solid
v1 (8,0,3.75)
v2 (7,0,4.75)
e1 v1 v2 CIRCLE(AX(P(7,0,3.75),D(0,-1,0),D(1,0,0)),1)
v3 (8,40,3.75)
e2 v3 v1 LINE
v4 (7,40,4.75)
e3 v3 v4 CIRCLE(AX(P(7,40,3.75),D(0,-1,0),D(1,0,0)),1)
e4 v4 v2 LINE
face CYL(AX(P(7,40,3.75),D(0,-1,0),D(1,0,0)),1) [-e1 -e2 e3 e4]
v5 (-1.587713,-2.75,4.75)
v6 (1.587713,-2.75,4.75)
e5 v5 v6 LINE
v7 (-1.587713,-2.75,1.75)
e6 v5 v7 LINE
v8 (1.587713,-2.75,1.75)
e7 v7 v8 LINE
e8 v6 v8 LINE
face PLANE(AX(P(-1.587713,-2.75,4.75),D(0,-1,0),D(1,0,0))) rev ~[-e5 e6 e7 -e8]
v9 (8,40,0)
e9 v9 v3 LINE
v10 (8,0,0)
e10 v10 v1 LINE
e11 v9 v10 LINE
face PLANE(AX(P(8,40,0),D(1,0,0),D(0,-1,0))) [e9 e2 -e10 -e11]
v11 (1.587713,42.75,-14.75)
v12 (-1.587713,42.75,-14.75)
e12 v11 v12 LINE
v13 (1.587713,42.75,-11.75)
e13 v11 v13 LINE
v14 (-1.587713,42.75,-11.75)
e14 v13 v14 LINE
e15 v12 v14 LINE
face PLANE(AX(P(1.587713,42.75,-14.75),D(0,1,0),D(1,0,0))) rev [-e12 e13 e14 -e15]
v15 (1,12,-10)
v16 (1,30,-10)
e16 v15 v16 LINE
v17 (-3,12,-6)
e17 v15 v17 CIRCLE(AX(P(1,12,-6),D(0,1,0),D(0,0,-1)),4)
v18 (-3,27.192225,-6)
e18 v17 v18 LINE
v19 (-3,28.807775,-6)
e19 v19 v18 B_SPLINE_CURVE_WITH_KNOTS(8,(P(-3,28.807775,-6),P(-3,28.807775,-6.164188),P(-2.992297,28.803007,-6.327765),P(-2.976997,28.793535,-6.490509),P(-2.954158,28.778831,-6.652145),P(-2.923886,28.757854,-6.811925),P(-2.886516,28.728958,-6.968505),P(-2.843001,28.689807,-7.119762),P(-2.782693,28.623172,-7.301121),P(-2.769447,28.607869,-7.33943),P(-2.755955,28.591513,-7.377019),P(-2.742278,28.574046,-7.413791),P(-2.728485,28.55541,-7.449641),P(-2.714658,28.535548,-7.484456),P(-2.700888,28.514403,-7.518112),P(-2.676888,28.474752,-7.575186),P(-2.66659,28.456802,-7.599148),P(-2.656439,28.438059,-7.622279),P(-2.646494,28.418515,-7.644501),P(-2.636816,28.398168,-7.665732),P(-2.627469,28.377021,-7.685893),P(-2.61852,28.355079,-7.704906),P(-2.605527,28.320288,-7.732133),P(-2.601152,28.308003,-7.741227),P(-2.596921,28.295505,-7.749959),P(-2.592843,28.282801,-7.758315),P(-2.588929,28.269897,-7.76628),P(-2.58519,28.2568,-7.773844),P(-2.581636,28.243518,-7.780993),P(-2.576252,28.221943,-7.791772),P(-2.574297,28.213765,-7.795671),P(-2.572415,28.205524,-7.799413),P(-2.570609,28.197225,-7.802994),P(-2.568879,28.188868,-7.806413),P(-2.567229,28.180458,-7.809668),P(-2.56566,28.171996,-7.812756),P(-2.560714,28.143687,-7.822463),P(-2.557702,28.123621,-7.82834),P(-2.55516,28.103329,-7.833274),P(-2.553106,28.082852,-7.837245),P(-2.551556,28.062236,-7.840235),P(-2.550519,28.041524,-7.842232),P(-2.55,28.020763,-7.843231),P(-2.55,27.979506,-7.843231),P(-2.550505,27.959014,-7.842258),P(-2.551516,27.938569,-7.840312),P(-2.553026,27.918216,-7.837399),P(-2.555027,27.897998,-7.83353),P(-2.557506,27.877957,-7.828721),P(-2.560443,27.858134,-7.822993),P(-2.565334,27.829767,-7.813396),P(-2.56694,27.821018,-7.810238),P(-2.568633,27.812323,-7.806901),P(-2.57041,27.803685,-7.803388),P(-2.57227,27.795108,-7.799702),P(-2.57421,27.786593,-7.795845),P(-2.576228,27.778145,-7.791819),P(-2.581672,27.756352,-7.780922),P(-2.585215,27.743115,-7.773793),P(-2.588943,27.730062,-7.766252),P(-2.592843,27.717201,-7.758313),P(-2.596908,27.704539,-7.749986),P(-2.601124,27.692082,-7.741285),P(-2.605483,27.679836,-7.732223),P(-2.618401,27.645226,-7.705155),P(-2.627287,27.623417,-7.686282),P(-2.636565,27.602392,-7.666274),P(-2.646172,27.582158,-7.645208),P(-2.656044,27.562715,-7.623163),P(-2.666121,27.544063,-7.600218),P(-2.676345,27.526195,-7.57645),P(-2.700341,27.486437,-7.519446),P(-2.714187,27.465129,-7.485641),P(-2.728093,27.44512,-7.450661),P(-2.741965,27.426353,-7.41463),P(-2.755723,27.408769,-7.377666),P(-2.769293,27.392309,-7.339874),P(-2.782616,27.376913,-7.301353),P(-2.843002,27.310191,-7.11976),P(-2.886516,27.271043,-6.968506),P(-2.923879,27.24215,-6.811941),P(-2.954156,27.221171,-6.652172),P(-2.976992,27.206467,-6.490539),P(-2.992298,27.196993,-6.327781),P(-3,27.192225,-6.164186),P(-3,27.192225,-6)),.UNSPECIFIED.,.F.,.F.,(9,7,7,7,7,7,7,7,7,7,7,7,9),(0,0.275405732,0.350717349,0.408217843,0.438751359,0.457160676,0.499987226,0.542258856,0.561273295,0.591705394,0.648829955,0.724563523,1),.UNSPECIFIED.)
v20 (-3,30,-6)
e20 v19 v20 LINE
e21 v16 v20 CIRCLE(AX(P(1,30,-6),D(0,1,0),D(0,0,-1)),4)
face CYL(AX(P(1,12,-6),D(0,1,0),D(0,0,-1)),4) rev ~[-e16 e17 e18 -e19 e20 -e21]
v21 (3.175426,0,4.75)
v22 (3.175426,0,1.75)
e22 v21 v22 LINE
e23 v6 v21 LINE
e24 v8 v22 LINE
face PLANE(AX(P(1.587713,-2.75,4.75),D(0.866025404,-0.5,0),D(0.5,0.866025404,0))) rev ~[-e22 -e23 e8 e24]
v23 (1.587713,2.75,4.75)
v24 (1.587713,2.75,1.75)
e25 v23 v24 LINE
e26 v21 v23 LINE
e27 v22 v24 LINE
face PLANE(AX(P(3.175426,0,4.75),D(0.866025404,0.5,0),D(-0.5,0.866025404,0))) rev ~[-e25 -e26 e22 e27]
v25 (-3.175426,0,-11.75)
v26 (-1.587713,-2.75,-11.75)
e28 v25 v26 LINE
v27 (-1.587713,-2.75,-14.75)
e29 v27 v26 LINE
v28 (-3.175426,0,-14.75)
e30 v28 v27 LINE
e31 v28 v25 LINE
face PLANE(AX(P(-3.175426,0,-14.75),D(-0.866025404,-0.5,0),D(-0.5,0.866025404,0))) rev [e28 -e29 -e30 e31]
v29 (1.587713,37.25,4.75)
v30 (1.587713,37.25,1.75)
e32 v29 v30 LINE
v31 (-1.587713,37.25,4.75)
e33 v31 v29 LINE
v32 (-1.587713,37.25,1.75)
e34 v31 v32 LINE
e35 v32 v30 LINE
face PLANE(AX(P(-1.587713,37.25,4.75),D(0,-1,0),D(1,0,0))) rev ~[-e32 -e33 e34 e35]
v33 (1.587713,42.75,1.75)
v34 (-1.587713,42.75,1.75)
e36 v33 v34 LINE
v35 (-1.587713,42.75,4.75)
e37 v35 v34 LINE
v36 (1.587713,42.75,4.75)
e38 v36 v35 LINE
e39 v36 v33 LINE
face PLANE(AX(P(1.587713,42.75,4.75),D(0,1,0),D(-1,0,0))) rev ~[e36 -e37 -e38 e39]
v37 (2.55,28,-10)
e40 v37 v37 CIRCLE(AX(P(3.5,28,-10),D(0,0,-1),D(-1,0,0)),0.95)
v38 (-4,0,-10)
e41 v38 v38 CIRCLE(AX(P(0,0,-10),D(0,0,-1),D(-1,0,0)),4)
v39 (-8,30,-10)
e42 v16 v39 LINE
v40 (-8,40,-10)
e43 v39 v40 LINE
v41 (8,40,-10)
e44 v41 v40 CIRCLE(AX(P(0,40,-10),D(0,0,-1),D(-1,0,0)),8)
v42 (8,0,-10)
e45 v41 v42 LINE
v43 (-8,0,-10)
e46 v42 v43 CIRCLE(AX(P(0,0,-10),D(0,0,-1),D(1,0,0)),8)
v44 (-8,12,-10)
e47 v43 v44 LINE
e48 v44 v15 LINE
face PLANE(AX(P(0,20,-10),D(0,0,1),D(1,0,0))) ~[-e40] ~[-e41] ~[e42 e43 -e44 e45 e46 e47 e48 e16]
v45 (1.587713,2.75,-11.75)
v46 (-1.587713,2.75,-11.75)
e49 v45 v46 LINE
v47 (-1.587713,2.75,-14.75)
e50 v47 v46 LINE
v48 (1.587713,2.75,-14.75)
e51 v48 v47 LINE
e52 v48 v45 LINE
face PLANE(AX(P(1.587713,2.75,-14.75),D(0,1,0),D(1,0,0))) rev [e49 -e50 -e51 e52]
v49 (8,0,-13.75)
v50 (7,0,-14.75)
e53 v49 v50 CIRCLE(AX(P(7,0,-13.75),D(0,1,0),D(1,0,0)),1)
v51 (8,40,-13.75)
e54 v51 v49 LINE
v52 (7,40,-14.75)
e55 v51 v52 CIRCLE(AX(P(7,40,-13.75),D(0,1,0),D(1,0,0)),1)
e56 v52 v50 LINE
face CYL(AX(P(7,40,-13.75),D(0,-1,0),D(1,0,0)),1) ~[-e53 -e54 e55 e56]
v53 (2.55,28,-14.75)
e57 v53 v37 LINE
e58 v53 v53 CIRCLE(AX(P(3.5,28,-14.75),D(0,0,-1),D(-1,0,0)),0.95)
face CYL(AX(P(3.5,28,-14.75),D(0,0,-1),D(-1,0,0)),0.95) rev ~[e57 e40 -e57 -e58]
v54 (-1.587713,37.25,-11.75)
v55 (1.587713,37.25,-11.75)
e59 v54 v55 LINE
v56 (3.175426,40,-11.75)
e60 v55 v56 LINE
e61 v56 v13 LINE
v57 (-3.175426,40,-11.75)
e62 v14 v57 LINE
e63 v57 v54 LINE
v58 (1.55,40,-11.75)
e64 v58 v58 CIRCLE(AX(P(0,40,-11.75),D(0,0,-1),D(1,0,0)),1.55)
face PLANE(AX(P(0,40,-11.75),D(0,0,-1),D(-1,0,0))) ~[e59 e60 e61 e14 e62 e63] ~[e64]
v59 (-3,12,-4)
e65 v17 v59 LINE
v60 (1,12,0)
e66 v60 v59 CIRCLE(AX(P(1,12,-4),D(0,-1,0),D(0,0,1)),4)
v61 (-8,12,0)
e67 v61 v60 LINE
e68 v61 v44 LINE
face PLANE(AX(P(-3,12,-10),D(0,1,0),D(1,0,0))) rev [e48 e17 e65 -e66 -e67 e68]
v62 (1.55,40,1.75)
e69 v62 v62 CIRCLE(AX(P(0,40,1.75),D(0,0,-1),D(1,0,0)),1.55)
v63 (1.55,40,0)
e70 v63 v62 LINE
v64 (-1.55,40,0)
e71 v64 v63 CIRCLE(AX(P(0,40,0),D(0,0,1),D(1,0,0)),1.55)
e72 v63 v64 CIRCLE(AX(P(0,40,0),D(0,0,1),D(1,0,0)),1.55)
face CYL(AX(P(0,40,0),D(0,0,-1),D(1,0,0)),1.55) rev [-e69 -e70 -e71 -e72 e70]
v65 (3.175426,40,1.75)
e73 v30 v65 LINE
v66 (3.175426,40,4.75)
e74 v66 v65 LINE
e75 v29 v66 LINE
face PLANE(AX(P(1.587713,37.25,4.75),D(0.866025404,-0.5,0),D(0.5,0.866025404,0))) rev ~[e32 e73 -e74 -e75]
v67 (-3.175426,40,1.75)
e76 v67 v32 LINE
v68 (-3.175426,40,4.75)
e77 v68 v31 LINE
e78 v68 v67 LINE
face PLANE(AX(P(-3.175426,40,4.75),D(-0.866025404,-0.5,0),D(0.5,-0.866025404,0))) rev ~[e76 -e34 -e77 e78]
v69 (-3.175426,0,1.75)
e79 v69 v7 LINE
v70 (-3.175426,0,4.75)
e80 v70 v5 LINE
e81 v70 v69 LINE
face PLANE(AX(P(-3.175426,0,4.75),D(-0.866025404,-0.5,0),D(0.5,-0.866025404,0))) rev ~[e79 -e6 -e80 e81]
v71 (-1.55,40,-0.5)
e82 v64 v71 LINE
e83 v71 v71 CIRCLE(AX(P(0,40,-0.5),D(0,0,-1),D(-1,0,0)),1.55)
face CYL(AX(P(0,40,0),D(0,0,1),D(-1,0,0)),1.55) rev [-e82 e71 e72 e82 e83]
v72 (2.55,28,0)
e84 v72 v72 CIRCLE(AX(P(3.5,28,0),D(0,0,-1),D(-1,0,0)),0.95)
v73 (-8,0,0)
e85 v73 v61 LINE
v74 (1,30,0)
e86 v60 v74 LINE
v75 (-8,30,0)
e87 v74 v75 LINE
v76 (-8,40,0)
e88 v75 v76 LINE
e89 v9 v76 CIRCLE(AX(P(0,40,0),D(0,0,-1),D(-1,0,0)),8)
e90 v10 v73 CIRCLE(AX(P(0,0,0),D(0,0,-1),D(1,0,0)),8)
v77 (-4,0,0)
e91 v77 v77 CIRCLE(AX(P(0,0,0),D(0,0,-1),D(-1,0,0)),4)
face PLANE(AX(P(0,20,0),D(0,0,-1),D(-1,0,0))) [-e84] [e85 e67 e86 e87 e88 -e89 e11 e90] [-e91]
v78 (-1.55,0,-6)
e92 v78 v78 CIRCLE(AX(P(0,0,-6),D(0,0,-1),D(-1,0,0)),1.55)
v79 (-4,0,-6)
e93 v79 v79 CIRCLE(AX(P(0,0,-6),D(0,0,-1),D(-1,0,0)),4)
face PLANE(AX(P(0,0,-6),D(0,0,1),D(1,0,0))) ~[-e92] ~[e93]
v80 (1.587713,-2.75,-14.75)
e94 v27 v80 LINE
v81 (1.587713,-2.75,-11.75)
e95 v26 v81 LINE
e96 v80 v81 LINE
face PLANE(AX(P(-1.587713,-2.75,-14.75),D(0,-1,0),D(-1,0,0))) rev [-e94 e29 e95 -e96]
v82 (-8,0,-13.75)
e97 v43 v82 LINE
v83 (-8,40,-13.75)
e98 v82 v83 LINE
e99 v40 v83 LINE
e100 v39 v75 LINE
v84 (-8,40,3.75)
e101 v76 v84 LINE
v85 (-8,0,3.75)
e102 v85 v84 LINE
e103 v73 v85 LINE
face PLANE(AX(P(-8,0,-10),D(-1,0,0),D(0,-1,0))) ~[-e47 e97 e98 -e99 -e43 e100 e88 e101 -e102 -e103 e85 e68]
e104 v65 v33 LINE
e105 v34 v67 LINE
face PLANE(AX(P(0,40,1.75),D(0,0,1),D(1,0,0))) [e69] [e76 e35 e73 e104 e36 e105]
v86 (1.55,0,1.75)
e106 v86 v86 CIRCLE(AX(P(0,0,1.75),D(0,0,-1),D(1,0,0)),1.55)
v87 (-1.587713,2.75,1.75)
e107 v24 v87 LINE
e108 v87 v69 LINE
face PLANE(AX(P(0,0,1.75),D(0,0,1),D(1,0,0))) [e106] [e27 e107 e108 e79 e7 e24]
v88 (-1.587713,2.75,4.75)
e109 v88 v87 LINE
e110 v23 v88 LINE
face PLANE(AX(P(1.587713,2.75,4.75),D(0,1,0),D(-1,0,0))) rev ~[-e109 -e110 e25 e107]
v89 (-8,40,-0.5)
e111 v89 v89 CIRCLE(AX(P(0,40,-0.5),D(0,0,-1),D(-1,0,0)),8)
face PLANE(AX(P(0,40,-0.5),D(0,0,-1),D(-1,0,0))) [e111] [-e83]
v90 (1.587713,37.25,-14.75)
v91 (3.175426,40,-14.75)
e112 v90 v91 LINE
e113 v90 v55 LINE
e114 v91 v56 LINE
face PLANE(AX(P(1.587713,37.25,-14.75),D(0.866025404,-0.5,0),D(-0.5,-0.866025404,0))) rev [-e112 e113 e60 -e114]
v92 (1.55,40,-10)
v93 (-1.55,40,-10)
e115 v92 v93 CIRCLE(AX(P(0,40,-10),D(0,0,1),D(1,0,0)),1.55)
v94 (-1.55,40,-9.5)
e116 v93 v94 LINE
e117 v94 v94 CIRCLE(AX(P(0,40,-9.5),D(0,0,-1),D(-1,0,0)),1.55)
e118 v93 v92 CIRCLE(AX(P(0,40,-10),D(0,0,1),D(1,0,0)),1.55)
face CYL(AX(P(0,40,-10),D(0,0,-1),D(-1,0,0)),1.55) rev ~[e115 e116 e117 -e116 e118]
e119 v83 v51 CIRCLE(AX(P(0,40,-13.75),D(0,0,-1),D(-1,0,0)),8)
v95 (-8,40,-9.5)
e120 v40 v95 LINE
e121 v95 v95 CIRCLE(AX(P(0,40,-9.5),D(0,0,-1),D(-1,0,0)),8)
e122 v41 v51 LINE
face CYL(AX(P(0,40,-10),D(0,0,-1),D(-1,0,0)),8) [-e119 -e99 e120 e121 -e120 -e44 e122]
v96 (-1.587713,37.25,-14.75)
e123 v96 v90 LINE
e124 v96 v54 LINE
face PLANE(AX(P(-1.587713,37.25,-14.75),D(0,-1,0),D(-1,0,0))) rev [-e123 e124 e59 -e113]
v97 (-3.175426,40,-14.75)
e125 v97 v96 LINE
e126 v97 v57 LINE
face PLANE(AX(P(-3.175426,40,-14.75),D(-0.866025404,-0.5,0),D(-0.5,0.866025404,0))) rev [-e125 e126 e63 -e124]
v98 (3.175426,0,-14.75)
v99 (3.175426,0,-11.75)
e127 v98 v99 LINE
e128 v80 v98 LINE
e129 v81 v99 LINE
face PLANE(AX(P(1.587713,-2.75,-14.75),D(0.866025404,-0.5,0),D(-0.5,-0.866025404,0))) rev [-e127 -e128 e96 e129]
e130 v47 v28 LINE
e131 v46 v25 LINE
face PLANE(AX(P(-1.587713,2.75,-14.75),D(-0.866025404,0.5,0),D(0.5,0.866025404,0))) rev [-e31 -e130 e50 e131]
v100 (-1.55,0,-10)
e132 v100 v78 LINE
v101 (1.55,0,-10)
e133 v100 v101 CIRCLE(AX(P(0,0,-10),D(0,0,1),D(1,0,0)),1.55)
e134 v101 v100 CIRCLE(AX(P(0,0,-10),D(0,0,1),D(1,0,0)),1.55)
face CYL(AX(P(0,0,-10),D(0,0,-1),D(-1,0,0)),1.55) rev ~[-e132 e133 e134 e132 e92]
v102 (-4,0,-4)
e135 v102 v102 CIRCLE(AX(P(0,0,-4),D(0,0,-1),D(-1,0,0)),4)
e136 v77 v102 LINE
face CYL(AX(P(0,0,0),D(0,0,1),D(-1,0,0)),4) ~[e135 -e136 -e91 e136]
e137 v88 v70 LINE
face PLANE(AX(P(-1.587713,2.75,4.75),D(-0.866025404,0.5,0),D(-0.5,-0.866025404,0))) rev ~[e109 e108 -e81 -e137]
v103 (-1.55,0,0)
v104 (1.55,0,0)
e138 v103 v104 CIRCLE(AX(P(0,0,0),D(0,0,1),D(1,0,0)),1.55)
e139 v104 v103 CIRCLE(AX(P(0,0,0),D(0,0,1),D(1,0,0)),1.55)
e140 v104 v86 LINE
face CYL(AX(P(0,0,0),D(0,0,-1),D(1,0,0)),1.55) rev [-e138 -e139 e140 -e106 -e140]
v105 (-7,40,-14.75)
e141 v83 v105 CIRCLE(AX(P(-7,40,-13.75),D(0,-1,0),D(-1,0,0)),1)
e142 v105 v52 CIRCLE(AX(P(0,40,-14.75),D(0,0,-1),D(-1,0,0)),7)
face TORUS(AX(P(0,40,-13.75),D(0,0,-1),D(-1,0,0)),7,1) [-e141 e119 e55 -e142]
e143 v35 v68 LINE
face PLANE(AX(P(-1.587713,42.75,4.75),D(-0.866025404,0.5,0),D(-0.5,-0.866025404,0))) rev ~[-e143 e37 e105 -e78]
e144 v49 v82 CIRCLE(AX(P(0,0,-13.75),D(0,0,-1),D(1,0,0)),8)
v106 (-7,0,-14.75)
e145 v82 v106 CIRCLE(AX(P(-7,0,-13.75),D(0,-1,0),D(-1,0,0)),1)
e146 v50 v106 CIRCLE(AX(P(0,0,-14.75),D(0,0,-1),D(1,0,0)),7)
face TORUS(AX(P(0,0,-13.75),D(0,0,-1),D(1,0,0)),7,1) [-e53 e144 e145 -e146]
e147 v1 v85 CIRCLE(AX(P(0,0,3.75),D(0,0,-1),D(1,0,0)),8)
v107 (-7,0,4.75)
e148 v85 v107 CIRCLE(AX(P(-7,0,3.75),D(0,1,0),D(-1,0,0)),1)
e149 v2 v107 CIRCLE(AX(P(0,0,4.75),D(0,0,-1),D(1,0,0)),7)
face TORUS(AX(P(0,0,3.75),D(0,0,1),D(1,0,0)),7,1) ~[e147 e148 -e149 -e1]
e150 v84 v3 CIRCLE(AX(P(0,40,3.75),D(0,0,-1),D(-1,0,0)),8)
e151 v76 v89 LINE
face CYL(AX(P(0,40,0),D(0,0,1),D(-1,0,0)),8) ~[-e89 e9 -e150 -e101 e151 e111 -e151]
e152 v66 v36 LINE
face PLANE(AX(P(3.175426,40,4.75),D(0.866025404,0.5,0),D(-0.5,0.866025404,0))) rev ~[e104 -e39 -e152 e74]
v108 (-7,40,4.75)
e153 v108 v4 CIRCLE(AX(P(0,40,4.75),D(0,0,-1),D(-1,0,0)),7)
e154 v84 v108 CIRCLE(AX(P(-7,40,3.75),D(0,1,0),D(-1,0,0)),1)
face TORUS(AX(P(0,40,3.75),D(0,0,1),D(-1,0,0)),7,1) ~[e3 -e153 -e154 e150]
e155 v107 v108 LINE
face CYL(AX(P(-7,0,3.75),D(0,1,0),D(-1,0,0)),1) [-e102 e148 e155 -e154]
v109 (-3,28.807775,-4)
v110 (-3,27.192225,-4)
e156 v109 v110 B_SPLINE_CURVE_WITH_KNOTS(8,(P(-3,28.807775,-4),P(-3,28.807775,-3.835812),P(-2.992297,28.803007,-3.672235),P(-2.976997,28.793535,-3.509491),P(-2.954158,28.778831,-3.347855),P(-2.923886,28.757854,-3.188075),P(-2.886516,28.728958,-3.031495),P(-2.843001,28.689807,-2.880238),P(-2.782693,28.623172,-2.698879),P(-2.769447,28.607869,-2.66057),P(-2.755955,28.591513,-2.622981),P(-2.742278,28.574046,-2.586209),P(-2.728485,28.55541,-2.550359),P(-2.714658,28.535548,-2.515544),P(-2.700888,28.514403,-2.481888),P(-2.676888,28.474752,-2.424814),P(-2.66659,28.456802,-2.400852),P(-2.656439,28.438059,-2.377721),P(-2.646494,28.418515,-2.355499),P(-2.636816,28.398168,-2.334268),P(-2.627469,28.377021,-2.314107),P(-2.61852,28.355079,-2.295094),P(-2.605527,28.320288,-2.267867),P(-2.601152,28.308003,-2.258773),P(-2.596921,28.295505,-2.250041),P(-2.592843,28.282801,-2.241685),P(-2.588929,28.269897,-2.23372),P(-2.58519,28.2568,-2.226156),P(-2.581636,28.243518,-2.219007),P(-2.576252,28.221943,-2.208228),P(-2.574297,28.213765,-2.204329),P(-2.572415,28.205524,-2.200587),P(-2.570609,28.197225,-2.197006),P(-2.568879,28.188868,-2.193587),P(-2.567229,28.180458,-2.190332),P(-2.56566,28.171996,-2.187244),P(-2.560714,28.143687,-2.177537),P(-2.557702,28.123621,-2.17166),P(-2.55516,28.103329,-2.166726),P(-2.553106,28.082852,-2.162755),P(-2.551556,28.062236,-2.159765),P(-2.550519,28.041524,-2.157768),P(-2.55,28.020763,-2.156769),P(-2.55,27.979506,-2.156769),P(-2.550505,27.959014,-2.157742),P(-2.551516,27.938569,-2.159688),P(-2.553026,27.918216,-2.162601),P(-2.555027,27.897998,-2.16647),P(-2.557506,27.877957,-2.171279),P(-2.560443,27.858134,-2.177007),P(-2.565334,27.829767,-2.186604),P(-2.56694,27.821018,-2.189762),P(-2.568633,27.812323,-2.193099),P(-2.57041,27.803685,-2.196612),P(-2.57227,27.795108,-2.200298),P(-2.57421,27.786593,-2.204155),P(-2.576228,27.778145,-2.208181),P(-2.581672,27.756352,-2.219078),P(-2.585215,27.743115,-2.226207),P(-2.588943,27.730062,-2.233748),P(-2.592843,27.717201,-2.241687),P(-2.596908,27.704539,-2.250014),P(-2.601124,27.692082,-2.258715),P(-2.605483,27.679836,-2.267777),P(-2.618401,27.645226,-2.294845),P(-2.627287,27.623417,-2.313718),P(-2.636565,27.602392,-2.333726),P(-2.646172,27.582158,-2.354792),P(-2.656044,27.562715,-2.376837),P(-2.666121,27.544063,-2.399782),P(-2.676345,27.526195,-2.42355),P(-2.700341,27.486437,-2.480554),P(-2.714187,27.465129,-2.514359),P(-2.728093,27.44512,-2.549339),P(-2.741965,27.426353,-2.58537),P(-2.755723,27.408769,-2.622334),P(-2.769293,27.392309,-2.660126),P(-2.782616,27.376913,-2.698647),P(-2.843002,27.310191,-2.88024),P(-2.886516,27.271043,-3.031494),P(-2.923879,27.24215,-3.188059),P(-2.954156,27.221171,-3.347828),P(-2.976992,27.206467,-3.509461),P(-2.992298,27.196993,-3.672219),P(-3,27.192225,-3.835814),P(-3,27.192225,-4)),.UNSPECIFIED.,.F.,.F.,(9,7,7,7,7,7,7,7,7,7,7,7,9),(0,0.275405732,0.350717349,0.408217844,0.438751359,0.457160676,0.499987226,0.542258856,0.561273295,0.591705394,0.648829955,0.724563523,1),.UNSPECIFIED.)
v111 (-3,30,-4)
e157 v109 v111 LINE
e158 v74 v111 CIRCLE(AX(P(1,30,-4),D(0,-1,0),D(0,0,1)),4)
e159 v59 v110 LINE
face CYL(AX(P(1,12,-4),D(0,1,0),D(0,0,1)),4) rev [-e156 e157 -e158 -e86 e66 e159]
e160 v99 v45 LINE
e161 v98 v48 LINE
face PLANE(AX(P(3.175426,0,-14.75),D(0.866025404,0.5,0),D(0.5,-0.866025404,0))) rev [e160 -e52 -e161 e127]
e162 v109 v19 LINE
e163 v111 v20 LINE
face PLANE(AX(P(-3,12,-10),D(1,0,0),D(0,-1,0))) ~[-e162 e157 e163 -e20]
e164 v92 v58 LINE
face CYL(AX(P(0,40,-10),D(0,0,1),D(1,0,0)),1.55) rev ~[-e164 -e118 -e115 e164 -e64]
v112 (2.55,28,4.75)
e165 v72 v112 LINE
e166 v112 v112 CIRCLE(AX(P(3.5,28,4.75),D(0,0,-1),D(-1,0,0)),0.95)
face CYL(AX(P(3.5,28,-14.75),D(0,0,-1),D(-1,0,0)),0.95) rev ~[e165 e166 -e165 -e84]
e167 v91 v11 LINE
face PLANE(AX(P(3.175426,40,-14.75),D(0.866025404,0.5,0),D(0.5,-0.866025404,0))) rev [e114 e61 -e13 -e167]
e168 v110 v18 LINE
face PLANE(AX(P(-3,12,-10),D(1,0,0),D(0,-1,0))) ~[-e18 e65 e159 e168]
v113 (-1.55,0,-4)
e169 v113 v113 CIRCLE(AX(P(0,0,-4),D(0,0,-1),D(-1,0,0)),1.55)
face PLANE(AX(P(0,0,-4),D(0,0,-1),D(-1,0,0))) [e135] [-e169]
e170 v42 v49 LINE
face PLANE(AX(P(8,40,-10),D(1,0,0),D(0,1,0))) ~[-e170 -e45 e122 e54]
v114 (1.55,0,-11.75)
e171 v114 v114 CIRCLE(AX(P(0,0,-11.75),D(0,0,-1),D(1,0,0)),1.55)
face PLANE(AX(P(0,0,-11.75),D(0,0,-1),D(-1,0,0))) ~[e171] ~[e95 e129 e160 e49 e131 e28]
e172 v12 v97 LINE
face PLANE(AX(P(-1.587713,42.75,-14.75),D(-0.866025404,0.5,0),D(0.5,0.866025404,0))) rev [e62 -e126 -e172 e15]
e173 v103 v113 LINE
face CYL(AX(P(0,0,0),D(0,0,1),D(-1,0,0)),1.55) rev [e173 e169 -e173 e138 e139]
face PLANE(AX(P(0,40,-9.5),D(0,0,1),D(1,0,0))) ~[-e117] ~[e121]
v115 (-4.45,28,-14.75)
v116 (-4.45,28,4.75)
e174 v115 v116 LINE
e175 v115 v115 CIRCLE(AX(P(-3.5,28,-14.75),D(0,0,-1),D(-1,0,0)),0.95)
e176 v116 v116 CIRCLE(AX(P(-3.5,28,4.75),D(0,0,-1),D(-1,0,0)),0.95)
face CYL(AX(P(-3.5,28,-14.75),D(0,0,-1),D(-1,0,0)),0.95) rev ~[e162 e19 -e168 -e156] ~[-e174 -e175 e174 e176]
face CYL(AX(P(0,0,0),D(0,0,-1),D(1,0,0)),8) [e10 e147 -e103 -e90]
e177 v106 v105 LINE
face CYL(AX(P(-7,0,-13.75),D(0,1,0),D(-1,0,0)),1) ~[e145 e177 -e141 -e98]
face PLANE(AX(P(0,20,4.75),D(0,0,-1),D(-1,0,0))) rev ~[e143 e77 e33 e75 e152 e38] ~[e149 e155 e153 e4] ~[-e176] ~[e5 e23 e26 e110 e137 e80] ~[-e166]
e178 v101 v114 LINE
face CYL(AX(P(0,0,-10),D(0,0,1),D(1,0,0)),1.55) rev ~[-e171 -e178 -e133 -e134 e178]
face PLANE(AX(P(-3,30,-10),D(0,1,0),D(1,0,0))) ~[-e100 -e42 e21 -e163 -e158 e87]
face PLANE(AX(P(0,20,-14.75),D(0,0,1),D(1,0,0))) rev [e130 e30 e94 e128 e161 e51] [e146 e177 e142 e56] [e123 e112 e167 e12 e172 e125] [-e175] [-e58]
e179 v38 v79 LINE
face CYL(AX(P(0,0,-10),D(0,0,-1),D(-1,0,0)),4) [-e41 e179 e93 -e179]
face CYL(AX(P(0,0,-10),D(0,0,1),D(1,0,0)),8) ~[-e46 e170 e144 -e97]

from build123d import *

# Parameters (mm, degrees)
SKETCH1_R           = 1.55
BOSS_EXTRUDE1_DEPTH = 4.75
FILLET2_R           = 1
CUT_EXTRUDE1_DEPTH  = 3
SKETCH3_W           = 5
SKETCH3_H           = 18
BOSS_EXTRUDE2_DEPTH = 5
SKETCH8_R           = 4
SKETCH8_R_2         = 1.55
BOSS_EXTRUDE4_DEPTH = 4
SKETCH9_R           = 8
SKETCH9_R_2         = 1.55
BOSS_EXTRUDE5_DEPTH = 0.5
FILLET3_R           = 4
SKETCH7_R           = 0.95
CUT_EXTRUDE3_DEPTH  = 20.5


with BuildPart() as part:
    # Sketch1 → Boss-Extrude1 (new body)
    with BuildSketch(Plane.XY):
        with BuildLine():
            Line((-8, 0), (-8, 40))
            ThreePointArc((-8, 40), (0, 48), (8, 40))
            Line((8, 40), (8, 0))
            ThreePointArc((8, 0), (0, -8), (-8, 0))
        make_face()
        with Locations((0, 40)):
            Circle(SKETCH1_R, mode=Mode.SUBTRACT)
        Circle(SKETCH1_R, mode=Mode.SUBTRACT)
    extrude(amount=BOSS_EXTRUDE1_DEPTH)

    # Fillet2
    fillet2_edges = [part.edges().sort_by_distance(p)[0] for p in [
        (0, 48, 4.75),
        (-8, 20, 4.75),
        (0, -8, 4.75),
        (8, 20, 4.75),
    ]]
    fillet(fillet2_edges, radius=FILLET2_R)

    # Sketch2 → Cut-Extrude1 (cut)
    with BuildSketch(Plane.XY.offset(4.75)):
        Polygon((3.175426481, 40), (1.58771324, 42.75), (-1.58771324, 42.75), (-3.175426481, 40), (-1.58771324, 37.25), (1.58771324, 37.25), align=None)
        Polygon((3.175426481, 0), (1.58771324, 2.75), (-1.58771324, 2.75), (-3.175426481, 0), (-1.58771324, -2.75), (1.58771324, -2.75), align=None)
    extrude(amount=-CUT_EXTRUDE1_DEPTH, mode=Mode.SUBTRACT)

    # Sketch3 → Boss-Extrude2 (add)
    with BuildSketch(Plane(origin=(0, 0, 0), x_dir=(-1, 0, 0), z_dir=(0, 0, -1))):
        with Locations((5.5, 21)):
            Rectangle(SKETCH3_W, SKETCH3_H)
    extrude(amount=BOSS_EXTRUDE2_DEPTH)

    # Sketch8 → Boss-Extrude4 (add)
    with BuildSketch(Plane(origin=(0, 0, 0), x_dir=(-1, 0, 0), z_dir=(0, 0, -1))):
        Circle(SKETCH8_R)
        Circle(SKETCH8_R_2, mode=Mode.SUBTRACT)
    extrude(amount=BOSS_EXTRUDE4_DEPTH)

    # Sketch9 → Boss-Extrude5 (add)
    with BuildSketch(Plane(origin=(0, 0, 0), x_dir=(-1, 0, 0), z_dir=(0, 0, -1))):
        with Locations((0, 40)):
            Circle(SKETCH9_R)
        with Locations((0, 40)):
            Circle(SKETCH9_R_2, mode=Mode.SUBTRACT)
    extrude(amount=BOSS_EXTRUDE5_DEPTH)

    # Fillet3
    fillet3_edges = [part.edges().sort_by_distance(p)[0] for p in [
        (-3, 21, 0),
    ]]
    fillet(fillet3_edges, radius=FILLET3_R)

    # Mirror5: part across plane


with BuildPart() as part_1:
    add(part.part)
    add(part.part.mirror(Plane.XY.offset(-5)))

    # Sketch7 → Cut-Extrude3 (cut, through all)
    with BuildSketch(Plane(origin=(0, 0, -14.75), x_dir=(-1, 0, 0), z_dir=(0, 0, -1))):
        with Locations((-3.5, 28)):
            Circle(SKETCH7_R)
        with Locations((3.5, 28)):
            Circle(SKETCH7_R)
    extrude(amount=-CUT_EXTRUDE3_DEPTH, mode=Mode.SUBTRACT)


solid = part_1.part
